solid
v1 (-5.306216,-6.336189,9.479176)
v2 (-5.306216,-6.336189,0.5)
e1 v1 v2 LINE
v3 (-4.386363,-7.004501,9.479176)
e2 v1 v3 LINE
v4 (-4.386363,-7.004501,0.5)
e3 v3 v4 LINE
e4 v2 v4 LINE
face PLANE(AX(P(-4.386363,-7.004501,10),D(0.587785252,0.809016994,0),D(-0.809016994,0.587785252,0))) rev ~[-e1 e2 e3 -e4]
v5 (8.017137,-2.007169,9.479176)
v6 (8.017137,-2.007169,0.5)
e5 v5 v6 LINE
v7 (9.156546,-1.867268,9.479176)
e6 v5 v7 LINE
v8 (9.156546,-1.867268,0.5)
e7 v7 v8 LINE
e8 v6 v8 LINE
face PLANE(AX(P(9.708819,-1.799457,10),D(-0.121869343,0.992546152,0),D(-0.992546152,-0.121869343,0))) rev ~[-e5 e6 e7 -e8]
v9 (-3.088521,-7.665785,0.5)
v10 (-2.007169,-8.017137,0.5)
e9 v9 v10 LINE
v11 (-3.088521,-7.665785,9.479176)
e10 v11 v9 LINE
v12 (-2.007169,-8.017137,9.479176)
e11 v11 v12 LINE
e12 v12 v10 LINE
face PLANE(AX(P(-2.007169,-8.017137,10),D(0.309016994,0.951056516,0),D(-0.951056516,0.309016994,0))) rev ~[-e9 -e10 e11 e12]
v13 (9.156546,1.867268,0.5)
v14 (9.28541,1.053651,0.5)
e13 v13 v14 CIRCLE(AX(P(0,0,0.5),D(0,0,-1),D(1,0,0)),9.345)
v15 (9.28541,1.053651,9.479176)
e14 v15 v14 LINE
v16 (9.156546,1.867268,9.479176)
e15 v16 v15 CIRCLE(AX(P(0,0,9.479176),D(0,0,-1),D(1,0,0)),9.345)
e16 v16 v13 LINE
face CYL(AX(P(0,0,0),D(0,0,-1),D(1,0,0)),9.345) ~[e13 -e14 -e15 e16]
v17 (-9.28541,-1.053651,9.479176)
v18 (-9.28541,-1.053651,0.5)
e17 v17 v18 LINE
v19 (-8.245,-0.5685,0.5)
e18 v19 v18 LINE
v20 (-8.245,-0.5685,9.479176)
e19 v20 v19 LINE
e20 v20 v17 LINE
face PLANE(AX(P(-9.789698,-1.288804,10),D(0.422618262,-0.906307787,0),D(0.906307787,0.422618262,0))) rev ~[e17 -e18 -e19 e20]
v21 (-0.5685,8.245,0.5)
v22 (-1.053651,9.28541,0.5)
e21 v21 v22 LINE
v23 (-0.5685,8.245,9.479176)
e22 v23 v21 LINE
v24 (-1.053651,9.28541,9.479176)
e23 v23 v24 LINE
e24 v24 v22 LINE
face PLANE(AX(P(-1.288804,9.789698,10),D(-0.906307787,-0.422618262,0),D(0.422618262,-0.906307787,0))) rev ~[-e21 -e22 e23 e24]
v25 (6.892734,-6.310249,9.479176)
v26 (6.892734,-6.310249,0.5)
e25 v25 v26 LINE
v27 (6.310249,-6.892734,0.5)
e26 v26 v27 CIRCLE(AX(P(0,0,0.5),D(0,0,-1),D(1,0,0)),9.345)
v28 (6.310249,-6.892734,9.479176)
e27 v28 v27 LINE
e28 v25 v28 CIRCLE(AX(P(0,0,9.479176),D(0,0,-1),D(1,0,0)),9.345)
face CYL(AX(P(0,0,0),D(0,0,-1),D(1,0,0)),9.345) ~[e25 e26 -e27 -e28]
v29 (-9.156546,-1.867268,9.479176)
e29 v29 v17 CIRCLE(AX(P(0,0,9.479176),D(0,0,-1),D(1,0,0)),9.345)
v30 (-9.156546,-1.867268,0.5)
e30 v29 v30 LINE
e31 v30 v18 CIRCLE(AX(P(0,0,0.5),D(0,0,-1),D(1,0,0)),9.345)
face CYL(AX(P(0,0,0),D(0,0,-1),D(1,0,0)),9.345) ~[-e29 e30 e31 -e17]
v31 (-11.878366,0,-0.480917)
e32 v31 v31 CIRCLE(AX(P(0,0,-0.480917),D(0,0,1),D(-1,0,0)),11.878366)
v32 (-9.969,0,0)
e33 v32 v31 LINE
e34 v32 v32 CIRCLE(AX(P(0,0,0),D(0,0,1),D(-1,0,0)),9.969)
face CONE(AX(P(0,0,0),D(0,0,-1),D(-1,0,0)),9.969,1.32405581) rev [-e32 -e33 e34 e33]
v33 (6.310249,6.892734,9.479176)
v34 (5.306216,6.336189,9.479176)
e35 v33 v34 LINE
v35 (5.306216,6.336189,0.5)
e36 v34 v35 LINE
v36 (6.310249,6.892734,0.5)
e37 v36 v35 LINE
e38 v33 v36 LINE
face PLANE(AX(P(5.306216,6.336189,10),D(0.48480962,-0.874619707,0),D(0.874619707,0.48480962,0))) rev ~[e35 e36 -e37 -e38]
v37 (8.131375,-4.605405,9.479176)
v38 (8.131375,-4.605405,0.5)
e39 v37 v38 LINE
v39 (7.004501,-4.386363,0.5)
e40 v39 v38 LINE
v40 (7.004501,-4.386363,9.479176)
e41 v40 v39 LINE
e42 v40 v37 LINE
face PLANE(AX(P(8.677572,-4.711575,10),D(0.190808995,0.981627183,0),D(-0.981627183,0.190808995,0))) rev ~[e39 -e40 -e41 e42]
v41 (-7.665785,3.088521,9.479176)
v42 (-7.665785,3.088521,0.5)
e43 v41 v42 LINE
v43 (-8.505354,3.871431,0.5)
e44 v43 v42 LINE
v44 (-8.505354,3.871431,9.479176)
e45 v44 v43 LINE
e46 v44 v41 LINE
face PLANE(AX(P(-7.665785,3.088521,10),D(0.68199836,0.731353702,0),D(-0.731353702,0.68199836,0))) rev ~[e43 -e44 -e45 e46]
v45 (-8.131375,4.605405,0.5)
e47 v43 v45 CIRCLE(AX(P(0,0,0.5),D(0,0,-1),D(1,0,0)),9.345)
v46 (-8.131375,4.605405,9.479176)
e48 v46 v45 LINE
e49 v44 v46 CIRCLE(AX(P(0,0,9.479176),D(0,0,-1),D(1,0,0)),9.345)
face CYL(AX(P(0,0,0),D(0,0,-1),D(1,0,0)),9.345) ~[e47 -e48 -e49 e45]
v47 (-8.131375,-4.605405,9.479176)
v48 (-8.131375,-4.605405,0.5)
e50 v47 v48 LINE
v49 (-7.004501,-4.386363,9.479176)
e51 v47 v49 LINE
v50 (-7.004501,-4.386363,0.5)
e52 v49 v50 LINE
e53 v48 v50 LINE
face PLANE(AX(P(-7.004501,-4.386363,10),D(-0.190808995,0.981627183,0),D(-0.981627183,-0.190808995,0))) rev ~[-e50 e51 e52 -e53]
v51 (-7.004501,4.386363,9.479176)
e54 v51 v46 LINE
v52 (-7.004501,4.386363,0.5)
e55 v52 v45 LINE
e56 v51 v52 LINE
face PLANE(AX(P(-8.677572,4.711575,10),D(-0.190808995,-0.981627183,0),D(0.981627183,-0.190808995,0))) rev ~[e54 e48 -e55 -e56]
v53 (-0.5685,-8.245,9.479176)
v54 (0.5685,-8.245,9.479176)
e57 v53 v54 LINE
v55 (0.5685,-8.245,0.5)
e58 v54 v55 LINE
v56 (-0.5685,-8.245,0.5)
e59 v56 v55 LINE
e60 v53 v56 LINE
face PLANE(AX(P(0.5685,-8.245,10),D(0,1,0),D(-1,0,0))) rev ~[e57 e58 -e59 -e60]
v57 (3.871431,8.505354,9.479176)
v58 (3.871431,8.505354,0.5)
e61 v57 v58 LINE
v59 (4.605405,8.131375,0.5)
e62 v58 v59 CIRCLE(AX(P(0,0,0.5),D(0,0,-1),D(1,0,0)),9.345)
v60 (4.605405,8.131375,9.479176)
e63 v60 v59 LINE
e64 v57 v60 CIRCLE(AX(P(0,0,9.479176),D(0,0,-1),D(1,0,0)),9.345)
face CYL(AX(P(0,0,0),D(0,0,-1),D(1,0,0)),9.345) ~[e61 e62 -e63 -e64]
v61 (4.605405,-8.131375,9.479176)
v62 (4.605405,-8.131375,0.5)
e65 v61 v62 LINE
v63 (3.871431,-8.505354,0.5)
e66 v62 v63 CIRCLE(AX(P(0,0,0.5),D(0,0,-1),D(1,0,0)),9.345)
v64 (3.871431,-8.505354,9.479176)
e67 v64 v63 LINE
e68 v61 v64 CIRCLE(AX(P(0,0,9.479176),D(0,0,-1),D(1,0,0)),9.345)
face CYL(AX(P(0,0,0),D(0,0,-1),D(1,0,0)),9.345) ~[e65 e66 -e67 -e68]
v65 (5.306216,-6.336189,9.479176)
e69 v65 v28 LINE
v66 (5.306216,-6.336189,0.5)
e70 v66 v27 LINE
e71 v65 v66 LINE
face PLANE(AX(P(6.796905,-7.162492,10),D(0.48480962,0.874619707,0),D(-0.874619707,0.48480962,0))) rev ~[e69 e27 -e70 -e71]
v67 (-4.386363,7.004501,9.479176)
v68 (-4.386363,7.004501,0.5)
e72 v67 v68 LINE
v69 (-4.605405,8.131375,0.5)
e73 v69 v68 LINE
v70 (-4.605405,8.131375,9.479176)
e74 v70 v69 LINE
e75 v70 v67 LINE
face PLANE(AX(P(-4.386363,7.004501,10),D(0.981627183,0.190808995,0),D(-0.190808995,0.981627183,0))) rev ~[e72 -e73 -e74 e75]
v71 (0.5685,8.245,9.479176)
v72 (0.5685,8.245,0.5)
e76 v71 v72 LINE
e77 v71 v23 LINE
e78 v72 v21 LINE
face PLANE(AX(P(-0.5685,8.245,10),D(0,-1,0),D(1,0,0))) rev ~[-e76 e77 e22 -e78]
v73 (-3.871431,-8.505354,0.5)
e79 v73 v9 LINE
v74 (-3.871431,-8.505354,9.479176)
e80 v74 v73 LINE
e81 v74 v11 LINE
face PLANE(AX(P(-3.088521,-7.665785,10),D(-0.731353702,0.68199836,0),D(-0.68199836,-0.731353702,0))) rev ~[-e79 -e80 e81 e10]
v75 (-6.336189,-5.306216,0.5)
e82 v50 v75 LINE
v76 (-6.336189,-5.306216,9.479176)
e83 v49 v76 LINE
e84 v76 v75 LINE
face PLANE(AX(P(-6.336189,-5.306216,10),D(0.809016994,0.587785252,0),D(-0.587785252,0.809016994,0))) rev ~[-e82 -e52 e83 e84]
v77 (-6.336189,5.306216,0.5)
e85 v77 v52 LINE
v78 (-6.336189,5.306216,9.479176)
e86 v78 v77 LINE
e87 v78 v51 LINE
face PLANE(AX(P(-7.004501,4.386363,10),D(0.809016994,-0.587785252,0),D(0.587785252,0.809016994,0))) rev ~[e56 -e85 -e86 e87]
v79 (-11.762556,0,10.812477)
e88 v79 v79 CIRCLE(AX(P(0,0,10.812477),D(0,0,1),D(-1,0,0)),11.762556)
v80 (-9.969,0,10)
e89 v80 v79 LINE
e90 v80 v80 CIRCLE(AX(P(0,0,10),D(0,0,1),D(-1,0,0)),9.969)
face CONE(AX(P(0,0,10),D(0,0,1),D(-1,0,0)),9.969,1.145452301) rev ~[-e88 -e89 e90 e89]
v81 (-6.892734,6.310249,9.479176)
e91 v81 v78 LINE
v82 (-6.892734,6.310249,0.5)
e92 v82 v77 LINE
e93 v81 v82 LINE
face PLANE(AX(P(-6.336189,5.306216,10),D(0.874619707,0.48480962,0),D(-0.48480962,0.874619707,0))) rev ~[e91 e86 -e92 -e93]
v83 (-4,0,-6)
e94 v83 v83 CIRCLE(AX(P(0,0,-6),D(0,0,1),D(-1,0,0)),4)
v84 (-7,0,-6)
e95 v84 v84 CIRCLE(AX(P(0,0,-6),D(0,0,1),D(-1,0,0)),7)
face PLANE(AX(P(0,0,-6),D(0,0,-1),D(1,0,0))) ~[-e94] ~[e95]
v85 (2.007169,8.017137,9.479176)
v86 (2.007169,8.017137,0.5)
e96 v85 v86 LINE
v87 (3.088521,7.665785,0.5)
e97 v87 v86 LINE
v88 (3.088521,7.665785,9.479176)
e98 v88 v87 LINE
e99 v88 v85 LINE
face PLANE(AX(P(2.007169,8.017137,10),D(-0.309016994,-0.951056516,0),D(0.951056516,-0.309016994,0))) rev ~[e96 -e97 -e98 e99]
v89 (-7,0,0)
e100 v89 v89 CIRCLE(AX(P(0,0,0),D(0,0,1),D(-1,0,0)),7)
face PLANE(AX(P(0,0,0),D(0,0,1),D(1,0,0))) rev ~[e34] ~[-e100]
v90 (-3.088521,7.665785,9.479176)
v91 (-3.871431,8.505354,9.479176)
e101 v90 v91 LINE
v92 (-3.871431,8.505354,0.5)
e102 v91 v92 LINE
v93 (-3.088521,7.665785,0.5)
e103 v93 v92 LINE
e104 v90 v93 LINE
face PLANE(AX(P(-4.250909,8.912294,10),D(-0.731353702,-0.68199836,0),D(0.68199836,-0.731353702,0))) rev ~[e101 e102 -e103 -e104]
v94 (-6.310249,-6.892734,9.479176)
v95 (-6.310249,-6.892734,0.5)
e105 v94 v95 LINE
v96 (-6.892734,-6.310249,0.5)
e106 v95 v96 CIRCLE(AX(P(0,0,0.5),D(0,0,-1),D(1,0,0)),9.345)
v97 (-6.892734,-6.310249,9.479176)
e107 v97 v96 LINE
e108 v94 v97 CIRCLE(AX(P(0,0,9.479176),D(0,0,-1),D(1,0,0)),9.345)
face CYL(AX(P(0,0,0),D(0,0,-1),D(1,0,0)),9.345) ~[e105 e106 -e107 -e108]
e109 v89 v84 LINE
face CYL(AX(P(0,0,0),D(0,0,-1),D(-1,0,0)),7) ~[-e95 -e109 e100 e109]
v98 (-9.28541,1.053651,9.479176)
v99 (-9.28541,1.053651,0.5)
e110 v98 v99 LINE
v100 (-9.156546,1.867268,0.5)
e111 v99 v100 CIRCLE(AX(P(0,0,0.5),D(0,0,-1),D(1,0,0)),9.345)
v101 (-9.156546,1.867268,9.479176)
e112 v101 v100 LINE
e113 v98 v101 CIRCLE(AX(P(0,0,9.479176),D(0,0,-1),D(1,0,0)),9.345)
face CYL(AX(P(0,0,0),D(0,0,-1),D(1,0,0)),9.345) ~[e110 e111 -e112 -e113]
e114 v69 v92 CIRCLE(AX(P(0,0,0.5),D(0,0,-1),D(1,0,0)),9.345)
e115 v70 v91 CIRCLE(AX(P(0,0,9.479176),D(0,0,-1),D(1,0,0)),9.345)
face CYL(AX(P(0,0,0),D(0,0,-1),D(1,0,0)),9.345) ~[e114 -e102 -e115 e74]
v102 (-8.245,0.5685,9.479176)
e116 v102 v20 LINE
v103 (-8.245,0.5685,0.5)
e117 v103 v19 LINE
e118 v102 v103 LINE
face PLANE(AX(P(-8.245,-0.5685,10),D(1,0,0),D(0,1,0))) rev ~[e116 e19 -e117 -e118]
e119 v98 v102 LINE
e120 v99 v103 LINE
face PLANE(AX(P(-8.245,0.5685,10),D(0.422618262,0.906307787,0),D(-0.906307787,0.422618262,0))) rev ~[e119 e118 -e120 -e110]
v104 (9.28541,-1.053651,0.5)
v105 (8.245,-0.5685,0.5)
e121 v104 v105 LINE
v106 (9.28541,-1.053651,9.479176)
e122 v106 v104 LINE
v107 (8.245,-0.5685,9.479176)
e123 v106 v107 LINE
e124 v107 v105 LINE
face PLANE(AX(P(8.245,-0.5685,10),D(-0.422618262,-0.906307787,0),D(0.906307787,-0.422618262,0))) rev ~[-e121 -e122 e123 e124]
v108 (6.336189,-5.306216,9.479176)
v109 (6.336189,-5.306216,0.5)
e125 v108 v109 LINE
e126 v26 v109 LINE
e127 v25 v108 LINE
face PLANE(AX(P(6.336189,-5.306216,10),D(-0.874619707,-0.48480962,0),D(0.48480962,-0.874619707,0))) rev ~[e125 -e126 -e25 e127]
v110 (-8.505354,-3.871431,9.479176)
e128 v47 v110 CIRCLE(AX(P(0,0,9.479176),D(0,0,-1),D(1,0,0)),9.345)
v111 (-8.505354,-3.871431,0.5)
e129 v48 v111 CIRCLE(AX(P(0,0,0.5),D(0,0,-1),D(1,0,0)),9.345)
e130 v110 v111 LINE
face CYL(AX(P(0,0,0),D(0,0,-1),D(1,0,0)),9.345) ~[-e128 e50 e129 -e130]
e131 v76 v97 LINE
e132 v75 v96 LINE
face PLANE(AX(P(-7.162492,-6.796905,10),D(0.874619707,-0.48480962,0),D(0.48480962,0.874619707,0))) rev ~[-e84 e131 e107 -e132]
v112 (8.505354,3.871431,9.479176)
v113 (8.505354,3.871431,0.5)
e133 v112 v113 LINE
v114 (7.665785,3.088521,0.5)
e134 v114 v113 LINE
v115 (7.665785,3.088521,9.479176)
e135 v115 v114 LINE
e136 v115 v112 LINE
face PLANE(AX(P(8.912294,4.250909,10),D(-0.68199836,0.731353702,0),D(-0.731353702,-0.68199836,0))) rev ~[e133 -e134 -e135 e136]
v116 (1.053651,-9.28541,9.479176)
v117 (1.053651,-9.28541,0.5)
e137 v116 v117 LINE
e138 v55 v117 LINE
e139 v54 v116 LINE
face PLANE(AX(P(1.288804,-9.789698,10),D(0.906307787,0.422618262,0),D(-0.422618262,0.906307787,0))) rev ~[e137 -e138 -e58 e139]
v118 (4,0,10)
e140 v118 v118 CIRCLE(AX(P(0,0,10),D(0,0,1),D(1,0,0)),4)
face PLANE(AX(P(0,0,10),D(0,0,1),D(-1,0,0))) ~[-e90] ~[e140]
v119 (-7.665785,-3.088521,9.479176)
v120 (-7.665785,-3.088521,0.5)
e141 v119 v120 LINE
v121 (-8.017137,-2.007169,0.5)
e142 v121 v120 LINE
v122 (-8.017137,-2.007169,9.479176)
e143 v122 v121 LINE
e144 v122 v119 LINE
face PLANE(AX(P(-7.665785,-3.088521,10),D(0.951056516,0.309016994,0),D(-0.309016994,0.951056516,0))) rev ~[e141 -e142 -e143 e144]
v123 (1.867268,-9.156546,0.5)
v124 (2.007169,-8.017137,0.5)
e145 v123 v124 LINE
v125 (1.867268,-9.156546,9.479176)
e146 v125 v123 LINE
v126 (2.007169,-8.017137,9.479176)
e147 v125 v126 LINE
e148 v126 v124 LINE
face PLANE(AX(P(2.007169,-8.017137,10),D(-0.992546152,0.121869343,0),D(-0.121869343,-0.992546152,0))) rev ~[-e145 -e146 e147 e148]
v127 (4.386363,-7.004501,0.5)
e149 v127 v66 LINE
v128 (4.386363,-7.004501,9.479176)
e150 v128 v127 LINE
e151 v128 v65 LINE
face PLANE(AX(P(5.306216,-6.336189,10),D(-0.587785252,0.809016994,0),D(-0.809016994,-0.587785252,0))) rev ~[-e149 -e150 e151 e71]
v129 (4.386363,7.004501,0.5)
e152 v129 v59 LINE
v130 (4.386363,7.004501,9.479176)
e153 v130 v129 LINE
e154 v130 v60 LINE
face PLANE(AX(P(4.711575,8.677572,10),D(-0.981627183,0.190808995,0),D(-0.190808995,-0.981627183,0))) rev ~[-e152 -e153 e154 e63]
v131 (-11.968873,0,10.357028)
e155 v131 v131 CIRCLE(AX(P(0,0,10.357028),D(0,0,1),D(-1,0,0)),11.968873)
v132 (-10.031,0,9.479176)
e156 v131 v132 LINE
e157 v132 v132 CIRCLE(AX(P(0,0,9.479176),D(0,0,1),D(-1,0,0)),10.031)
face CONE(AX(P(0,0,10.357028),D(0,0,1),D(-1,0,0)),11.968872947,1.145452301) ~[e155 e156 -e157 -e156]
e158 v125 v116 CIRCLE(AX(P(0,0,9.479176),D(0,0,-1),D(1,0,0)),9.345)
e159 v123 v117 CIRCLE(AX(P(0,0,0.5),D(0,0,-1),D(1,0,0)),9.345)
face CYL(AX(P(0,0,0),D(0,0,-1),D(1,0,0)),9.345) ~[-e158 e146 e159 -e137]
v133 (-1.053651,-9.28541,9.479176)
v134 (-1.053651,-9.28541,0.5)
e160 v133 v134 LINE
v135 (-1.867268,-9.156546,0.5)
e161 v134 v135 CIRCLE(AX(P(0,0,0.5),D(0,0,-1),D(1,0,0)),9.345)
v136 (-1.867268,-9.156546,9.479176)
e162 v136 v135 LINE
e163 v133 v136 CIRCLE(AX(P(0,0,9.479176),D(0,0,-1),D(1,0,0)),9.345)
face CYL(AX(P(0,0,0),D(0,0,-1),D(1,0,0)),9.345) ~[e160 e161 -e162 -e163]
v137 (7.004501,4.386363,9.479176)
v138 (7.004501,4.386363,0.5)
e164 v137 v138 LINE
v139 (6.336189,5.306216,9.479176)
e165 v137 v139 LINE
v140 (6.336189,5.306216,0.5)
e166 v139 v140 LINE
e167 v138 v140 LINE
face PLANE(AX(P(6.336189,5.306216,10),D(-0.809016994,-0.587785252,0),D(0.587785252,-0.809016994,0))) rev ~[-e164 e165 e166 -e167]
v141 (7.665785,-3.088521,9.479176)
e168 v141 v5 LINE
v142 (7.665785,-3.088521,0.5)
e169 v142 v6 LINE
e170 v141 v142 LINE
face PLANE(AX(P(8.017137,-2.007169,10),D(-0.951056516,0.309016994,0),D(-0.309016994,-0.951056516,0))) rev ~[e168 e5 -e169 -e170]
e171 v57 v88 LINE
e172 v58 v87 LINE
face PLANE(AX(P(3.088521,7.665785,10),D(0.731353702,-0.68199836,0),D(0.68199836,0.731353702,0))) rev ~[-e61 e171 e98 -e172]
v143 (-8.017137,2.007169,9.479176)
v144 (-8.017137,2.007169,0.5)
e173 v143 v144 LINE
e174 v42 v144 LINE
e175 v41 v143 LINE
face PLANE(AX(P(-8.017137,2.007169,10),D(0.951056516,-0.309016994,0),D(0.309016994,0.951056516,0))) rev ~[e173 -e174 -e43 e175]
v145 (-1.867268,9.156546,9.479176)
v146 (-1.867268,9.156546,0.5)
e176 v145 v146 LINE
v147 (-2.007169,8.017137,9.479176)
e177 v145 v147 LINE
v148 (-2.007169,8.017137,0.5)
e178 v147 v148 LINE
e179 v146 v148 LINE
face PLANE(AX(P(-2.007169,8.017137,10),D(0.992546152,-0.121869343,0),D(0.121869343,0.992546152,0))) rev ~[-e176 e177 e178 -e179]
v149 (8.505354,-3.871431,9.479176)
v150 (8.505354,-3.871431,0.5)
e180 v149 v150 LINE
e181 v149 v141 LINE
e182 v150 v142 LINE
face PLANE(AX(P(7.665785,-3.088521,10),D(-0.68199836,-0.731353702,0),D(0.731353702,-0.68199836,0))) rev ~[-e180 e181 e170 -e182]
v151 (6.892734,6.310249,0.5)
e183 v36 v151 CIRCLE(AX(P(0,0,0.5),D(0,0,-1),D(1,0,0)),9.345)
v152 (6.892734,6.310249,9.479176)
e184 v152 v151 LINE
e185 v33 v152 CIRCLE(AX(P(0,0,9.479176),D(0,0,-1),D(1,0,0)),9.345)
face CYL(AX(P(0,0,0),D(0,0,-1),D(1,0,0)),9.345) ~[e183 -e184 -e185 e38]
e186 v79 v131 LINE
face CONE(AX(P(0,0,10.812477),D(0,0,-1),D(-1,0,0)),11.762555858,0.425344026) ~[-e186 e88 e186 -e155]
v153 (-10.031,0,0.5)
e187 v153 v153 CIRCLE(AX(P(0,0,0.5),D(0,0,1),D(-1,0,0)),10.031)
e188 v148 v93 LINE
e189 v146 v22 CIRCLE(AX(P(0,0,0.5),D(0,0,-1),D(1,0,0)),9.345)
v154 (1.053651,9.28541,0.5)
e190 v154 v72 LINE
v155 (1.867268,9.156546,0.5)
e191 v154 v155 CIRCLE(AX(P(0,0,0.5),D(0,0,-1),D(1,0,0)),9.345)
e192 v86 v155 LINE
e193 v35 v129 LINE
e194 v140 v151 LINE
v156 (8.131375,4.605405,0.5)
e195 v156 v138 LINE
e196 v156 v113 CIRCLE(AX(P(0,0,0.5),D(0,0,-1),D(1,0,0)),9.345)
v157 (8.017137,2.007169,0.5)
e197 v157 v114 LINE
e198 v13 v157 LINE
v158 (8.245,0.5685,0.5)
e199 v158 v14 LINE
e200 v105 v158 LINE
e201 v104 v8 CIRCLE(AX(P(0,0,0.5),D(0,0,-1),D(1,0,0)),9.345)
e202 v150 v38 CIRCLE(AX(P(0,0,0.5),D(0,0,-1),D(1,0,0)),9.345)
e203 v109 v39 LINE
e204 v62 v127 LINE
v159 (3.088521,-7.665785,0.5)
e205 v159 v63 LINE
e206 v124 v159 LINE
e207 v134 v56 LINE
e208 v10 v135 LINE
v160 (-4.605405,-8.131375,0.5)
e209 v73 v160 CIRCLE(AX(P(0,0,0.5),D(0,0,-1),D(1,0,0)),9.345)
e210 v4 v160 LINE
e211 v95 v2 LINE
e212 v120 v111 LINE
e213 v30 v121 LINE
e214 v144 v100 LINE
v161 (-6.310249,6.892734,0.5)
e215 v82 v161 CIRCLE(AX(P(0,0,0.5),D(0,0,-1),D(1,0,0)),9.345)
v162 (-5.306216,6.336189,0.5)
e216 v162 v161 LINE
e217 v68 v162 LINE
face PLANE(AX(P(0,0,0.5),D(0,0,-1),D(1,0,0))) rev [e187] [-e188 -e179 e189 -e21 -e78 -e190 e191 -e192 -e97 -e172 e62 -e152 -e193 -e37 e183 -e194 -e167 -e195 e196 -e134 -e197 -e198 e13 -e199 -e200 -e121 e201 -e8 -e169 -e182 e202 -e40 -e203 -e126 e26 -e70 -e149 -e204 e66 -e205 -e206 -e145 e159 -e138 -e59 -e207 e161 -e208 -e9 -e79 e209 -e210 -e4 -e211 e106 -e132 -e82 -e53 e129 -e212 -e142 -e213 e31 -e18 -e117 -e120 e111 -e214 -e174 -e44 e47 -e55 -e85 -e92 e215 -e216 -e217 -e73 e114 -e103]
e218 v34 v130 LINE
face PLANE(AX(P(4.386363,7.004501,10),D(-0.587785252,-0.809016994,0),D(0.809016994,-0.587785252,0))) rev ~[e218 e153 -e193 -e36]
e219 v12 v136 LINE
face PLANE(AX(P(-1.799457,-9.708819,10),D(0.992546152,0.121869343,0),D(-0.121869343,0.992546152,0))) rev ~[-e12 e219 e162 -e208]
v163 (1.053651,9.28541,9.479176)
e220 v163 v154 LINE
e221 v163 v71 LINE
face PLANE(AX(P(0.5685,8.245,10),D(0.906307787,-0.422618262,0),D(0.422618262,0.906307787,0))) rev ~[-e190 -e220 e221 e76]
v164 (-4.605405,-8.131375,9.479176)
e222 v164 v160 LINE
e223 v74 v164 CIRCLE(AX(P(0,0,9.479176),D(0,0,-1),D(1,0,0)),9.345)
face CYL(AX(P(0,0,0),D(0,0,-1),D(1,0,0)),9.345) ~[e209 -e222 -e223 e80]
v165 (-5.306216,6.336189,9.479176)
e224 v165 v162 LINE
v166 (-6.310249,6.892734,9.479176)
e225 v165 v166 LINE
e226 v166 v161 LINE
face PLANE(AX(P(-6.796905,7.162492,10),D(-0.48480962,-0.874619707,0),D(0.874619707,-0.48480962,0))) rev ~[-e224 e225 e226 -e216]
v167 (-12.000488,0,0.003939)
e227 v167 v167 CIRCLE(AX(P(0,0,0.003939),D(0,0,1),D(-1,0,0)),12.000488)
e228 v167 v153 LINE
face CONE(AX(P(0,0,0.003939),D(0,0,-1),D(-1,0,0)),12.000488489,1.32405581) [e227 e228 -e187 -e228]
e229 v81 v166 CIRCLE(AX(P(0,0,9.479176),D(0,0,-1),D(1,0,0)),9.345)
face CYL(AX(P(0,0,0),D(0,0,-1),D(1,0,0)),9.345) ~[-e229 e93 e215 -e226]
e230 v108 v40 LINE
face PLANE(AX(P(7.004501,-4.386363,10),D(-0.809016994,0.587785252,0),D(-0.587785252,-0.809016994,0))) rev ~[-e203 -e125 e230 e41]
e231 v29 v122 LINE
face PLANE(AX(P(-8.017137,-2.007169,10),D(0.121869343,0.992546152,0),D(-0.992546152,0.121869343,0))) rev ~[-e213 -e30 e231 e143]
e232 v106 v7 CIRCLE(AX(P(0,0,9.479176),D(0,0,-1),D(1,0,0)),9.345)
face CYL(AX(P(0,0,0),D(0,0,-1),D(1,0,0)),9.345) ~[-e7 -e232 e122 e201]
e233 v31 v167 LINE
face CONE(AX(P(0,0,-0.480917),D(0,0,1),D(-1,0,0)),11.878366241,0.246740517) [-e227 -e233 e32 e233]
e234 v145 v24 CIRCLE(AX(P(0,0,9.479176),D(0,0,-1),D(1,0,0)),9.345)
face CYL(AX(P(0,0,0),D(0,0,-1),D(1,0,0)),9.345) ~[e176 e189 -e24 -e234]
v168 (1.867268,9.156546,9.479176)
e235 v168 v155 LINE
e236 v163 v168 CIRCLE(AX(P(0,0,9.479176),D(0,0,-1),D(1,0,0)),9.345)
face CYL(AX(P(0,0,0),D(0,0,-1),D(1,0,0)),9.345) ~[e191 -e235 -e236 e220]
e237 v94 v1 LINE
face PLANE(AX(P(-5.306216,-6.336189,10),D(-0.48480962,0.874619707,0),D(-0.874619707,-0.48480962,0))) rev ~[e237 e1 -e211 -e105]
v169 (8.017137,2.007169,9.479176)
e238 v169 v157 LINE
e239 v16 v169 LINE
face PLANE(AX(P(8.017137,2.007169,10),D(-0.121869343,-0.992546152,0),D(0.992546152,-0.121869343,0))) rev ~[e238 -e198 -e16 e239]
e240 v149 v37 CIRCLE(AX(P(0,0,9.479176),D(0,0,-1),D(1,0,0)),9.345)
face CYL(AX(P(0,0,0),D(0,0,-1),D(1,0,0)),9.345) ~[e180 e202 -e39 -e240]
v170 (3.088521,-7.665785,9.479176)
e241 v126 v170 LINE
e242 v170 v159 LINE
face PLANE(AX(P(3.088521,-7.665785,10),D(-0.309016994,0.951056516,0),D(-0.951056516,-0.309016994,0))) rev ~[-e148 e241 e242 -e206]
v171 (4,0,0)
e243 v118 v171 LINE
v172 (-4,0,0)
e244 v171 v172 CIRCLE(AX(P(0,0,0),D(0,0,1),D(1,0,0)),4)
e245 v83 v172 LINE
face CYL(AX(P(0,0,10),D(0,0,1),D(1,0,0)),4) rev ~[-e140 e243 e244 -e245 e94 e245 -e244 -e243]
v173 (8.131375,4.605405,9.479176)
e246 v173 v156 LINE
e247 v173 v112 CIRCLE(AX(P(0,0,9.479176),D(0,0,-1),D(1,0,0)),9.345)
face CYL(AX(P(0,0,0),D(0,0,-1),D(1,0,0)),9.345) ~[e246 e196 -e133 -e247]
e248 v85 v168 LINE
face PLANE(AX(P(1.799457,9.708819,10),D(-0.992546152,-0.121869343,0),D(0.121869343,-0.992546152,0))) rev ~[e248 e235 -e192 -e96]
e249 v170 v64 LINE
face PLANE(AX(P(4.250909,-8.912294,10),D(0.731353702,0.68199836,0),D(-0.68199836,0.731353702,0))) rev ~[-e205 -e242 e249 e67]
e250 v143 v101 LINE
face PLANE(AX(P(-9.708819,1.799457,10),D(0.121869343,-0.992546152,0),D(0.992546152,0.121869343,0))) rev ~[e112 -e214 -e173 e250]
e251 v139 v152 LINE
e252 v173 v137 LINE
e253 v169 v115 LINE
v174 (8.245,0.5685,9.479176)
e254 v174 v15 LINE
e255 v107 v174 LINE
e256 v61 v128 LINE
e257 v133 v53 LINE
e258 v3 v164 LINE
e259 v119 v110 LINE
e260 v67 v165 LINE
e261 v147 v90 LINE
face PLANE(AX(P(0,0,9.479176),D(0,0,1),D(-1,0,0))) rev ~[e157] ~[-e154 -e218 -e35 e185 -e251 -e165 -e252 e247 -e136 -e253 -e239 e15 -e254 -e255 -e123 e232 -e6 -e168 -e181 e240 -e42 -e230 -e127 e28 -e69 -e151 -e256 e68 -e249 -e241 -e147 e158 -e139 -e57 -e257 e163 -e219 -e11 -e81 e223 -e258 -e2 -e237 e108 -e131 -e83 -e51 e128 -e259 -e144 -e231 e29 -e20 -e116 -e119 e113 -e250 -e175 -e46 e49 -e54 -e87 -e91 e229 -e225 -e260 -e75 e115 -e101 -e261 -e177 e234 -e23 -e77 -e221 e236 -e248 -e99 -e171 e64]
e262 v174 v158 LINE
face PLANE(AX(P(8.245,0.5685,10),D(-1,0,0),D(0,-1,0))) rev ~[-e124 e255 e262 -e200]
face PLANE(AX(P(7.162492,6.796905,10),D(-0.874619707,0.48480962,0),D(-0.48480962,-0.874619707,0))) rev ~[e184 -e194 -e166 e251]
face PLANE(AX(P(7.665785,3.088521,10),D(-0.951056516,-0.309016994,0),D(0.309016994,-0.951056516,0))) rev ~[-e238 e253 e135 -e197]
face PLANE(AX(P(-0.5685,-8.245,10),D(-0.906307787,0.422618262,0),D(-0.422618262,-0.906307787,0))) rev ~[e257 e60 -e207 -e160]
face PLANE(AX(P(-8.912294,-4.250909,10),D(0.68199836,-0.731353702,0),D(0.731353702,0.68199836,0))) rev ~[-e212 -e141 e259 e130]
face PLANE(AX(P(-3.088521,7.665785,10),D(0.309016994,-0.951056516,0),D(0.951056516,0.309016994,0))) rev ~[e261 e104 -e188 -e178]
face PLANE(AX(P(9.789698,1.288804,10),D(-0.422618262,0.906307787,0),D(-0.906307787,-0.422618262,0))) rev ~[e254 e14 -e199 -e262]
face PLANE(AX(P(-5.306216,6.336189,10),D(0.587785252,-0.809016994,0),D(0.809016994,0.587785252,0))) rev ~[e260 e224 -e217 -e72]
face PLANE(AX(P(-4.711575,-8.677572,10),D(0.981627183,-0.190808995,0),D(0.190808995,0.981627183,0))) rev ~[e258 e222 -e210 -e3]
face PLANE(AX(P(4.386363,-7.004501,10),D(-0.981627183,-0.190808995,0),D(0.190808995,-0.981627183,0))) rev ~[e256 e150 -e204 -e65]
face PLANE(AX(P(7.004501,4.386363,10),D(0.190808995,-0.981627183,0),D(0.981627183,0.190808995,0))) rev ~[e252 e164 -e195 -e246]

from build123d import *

# Parameters (mm, degrees)
ESQUISSE1_R                  = 9.345000000000002
EXTRUSION1_DEPTH             = 10
EXTRUSION2_DEPTH             = 17.572810564294763
R_P_TITION_CIRCULAIRE1_COUNT = 20
ESQUISSE4_R                  = 4
EXTRUSION3_DEPTH             = 17.50568653417299


with BuildPart() as part:
    # Esquisse1 → Extrusion1 (new body)
    with BuildSketch(Plane.XY):
        Circle(ESQUISSE1_R)
    extrude(amount=EXTRUSION1_DEPTH)

    # Esquisse2 → Extrusion2 (cut, through all)
    with BuildSketch(Plane.XY.offset(10)):
        Polygon((-0.5685000000000011, 8.245), (0.5684999999999989, 8.245), (1.2888044910509866, 9.789697965932955), (-1.2888044910509753, 9.789697965932955), align=None)
    extrusion2 = extrude(amount=-EXTRUSION2_DEPTH, mode=Mode.SUBTRACT)

    # Répétition circulaire1: Extrusion2 ×20 about axis
    r_p_tition_circulaire1_axis = Axis((3e-17, -4.2e-16, 0), (0, 0, 1))
    for i in range(1, R_P_TITION_CIRCULAIRE1_COUNT):
        add(extrusion2.rotate(r_p_tition_circulaire1_axis, i * 360 / R_P_TITION_CIRCULAIRE1_COUNT), mode=Mode.SUBTRACT)

    # Esquisse4 → Extrusion3 (cut, through all)
    with BuildSketch(Plane.XY.offset(10)):
        Circle(ESQUISSE4_R)
    extrude(amount=-EXTRUSION3_DEPTH, mode=Mode.SUBTRACT)

    # Esquisse5 → Révolution1 (revolve)
    with BuildSketch(Plane(origin=(0, 0, 0), x_dir=(0, 0, -1), z_dir=(1, 0, 0)), mode=Mode.PRIVATE) as r_volution1_sk:
        Polygon((-10, 8), (-10, 9.969000000000001), (-10.812476697134908, 11.762555858236022), (-10.357028282143537, 11.96887294740182), (-9.479176274054629, 10.031), (-9.479176274054645, 8), align=None)
        Polygon((0, 8), (-5.9e-16, 9.969000000000001), (0.48091741384473186, 11.878366240683253), (-0.00393942736482848, 12.00048848899324), (-0.5, 10.031), (-0.4999999999999998, 8), align=None)
        Polygon((0, 7), (6, 6.999999999999999), (6.000000000000001, 4), (4.6e-16, 4), align=None)
    revolve(r_volution1_sk.sketch.rotate(Axis((0, 0, -0.6503339320090771), (0, 0, 1)), 90), axis=Axis((0, 0, -0.6503339320090771), (0, 0, 1)))


solid = part.part
